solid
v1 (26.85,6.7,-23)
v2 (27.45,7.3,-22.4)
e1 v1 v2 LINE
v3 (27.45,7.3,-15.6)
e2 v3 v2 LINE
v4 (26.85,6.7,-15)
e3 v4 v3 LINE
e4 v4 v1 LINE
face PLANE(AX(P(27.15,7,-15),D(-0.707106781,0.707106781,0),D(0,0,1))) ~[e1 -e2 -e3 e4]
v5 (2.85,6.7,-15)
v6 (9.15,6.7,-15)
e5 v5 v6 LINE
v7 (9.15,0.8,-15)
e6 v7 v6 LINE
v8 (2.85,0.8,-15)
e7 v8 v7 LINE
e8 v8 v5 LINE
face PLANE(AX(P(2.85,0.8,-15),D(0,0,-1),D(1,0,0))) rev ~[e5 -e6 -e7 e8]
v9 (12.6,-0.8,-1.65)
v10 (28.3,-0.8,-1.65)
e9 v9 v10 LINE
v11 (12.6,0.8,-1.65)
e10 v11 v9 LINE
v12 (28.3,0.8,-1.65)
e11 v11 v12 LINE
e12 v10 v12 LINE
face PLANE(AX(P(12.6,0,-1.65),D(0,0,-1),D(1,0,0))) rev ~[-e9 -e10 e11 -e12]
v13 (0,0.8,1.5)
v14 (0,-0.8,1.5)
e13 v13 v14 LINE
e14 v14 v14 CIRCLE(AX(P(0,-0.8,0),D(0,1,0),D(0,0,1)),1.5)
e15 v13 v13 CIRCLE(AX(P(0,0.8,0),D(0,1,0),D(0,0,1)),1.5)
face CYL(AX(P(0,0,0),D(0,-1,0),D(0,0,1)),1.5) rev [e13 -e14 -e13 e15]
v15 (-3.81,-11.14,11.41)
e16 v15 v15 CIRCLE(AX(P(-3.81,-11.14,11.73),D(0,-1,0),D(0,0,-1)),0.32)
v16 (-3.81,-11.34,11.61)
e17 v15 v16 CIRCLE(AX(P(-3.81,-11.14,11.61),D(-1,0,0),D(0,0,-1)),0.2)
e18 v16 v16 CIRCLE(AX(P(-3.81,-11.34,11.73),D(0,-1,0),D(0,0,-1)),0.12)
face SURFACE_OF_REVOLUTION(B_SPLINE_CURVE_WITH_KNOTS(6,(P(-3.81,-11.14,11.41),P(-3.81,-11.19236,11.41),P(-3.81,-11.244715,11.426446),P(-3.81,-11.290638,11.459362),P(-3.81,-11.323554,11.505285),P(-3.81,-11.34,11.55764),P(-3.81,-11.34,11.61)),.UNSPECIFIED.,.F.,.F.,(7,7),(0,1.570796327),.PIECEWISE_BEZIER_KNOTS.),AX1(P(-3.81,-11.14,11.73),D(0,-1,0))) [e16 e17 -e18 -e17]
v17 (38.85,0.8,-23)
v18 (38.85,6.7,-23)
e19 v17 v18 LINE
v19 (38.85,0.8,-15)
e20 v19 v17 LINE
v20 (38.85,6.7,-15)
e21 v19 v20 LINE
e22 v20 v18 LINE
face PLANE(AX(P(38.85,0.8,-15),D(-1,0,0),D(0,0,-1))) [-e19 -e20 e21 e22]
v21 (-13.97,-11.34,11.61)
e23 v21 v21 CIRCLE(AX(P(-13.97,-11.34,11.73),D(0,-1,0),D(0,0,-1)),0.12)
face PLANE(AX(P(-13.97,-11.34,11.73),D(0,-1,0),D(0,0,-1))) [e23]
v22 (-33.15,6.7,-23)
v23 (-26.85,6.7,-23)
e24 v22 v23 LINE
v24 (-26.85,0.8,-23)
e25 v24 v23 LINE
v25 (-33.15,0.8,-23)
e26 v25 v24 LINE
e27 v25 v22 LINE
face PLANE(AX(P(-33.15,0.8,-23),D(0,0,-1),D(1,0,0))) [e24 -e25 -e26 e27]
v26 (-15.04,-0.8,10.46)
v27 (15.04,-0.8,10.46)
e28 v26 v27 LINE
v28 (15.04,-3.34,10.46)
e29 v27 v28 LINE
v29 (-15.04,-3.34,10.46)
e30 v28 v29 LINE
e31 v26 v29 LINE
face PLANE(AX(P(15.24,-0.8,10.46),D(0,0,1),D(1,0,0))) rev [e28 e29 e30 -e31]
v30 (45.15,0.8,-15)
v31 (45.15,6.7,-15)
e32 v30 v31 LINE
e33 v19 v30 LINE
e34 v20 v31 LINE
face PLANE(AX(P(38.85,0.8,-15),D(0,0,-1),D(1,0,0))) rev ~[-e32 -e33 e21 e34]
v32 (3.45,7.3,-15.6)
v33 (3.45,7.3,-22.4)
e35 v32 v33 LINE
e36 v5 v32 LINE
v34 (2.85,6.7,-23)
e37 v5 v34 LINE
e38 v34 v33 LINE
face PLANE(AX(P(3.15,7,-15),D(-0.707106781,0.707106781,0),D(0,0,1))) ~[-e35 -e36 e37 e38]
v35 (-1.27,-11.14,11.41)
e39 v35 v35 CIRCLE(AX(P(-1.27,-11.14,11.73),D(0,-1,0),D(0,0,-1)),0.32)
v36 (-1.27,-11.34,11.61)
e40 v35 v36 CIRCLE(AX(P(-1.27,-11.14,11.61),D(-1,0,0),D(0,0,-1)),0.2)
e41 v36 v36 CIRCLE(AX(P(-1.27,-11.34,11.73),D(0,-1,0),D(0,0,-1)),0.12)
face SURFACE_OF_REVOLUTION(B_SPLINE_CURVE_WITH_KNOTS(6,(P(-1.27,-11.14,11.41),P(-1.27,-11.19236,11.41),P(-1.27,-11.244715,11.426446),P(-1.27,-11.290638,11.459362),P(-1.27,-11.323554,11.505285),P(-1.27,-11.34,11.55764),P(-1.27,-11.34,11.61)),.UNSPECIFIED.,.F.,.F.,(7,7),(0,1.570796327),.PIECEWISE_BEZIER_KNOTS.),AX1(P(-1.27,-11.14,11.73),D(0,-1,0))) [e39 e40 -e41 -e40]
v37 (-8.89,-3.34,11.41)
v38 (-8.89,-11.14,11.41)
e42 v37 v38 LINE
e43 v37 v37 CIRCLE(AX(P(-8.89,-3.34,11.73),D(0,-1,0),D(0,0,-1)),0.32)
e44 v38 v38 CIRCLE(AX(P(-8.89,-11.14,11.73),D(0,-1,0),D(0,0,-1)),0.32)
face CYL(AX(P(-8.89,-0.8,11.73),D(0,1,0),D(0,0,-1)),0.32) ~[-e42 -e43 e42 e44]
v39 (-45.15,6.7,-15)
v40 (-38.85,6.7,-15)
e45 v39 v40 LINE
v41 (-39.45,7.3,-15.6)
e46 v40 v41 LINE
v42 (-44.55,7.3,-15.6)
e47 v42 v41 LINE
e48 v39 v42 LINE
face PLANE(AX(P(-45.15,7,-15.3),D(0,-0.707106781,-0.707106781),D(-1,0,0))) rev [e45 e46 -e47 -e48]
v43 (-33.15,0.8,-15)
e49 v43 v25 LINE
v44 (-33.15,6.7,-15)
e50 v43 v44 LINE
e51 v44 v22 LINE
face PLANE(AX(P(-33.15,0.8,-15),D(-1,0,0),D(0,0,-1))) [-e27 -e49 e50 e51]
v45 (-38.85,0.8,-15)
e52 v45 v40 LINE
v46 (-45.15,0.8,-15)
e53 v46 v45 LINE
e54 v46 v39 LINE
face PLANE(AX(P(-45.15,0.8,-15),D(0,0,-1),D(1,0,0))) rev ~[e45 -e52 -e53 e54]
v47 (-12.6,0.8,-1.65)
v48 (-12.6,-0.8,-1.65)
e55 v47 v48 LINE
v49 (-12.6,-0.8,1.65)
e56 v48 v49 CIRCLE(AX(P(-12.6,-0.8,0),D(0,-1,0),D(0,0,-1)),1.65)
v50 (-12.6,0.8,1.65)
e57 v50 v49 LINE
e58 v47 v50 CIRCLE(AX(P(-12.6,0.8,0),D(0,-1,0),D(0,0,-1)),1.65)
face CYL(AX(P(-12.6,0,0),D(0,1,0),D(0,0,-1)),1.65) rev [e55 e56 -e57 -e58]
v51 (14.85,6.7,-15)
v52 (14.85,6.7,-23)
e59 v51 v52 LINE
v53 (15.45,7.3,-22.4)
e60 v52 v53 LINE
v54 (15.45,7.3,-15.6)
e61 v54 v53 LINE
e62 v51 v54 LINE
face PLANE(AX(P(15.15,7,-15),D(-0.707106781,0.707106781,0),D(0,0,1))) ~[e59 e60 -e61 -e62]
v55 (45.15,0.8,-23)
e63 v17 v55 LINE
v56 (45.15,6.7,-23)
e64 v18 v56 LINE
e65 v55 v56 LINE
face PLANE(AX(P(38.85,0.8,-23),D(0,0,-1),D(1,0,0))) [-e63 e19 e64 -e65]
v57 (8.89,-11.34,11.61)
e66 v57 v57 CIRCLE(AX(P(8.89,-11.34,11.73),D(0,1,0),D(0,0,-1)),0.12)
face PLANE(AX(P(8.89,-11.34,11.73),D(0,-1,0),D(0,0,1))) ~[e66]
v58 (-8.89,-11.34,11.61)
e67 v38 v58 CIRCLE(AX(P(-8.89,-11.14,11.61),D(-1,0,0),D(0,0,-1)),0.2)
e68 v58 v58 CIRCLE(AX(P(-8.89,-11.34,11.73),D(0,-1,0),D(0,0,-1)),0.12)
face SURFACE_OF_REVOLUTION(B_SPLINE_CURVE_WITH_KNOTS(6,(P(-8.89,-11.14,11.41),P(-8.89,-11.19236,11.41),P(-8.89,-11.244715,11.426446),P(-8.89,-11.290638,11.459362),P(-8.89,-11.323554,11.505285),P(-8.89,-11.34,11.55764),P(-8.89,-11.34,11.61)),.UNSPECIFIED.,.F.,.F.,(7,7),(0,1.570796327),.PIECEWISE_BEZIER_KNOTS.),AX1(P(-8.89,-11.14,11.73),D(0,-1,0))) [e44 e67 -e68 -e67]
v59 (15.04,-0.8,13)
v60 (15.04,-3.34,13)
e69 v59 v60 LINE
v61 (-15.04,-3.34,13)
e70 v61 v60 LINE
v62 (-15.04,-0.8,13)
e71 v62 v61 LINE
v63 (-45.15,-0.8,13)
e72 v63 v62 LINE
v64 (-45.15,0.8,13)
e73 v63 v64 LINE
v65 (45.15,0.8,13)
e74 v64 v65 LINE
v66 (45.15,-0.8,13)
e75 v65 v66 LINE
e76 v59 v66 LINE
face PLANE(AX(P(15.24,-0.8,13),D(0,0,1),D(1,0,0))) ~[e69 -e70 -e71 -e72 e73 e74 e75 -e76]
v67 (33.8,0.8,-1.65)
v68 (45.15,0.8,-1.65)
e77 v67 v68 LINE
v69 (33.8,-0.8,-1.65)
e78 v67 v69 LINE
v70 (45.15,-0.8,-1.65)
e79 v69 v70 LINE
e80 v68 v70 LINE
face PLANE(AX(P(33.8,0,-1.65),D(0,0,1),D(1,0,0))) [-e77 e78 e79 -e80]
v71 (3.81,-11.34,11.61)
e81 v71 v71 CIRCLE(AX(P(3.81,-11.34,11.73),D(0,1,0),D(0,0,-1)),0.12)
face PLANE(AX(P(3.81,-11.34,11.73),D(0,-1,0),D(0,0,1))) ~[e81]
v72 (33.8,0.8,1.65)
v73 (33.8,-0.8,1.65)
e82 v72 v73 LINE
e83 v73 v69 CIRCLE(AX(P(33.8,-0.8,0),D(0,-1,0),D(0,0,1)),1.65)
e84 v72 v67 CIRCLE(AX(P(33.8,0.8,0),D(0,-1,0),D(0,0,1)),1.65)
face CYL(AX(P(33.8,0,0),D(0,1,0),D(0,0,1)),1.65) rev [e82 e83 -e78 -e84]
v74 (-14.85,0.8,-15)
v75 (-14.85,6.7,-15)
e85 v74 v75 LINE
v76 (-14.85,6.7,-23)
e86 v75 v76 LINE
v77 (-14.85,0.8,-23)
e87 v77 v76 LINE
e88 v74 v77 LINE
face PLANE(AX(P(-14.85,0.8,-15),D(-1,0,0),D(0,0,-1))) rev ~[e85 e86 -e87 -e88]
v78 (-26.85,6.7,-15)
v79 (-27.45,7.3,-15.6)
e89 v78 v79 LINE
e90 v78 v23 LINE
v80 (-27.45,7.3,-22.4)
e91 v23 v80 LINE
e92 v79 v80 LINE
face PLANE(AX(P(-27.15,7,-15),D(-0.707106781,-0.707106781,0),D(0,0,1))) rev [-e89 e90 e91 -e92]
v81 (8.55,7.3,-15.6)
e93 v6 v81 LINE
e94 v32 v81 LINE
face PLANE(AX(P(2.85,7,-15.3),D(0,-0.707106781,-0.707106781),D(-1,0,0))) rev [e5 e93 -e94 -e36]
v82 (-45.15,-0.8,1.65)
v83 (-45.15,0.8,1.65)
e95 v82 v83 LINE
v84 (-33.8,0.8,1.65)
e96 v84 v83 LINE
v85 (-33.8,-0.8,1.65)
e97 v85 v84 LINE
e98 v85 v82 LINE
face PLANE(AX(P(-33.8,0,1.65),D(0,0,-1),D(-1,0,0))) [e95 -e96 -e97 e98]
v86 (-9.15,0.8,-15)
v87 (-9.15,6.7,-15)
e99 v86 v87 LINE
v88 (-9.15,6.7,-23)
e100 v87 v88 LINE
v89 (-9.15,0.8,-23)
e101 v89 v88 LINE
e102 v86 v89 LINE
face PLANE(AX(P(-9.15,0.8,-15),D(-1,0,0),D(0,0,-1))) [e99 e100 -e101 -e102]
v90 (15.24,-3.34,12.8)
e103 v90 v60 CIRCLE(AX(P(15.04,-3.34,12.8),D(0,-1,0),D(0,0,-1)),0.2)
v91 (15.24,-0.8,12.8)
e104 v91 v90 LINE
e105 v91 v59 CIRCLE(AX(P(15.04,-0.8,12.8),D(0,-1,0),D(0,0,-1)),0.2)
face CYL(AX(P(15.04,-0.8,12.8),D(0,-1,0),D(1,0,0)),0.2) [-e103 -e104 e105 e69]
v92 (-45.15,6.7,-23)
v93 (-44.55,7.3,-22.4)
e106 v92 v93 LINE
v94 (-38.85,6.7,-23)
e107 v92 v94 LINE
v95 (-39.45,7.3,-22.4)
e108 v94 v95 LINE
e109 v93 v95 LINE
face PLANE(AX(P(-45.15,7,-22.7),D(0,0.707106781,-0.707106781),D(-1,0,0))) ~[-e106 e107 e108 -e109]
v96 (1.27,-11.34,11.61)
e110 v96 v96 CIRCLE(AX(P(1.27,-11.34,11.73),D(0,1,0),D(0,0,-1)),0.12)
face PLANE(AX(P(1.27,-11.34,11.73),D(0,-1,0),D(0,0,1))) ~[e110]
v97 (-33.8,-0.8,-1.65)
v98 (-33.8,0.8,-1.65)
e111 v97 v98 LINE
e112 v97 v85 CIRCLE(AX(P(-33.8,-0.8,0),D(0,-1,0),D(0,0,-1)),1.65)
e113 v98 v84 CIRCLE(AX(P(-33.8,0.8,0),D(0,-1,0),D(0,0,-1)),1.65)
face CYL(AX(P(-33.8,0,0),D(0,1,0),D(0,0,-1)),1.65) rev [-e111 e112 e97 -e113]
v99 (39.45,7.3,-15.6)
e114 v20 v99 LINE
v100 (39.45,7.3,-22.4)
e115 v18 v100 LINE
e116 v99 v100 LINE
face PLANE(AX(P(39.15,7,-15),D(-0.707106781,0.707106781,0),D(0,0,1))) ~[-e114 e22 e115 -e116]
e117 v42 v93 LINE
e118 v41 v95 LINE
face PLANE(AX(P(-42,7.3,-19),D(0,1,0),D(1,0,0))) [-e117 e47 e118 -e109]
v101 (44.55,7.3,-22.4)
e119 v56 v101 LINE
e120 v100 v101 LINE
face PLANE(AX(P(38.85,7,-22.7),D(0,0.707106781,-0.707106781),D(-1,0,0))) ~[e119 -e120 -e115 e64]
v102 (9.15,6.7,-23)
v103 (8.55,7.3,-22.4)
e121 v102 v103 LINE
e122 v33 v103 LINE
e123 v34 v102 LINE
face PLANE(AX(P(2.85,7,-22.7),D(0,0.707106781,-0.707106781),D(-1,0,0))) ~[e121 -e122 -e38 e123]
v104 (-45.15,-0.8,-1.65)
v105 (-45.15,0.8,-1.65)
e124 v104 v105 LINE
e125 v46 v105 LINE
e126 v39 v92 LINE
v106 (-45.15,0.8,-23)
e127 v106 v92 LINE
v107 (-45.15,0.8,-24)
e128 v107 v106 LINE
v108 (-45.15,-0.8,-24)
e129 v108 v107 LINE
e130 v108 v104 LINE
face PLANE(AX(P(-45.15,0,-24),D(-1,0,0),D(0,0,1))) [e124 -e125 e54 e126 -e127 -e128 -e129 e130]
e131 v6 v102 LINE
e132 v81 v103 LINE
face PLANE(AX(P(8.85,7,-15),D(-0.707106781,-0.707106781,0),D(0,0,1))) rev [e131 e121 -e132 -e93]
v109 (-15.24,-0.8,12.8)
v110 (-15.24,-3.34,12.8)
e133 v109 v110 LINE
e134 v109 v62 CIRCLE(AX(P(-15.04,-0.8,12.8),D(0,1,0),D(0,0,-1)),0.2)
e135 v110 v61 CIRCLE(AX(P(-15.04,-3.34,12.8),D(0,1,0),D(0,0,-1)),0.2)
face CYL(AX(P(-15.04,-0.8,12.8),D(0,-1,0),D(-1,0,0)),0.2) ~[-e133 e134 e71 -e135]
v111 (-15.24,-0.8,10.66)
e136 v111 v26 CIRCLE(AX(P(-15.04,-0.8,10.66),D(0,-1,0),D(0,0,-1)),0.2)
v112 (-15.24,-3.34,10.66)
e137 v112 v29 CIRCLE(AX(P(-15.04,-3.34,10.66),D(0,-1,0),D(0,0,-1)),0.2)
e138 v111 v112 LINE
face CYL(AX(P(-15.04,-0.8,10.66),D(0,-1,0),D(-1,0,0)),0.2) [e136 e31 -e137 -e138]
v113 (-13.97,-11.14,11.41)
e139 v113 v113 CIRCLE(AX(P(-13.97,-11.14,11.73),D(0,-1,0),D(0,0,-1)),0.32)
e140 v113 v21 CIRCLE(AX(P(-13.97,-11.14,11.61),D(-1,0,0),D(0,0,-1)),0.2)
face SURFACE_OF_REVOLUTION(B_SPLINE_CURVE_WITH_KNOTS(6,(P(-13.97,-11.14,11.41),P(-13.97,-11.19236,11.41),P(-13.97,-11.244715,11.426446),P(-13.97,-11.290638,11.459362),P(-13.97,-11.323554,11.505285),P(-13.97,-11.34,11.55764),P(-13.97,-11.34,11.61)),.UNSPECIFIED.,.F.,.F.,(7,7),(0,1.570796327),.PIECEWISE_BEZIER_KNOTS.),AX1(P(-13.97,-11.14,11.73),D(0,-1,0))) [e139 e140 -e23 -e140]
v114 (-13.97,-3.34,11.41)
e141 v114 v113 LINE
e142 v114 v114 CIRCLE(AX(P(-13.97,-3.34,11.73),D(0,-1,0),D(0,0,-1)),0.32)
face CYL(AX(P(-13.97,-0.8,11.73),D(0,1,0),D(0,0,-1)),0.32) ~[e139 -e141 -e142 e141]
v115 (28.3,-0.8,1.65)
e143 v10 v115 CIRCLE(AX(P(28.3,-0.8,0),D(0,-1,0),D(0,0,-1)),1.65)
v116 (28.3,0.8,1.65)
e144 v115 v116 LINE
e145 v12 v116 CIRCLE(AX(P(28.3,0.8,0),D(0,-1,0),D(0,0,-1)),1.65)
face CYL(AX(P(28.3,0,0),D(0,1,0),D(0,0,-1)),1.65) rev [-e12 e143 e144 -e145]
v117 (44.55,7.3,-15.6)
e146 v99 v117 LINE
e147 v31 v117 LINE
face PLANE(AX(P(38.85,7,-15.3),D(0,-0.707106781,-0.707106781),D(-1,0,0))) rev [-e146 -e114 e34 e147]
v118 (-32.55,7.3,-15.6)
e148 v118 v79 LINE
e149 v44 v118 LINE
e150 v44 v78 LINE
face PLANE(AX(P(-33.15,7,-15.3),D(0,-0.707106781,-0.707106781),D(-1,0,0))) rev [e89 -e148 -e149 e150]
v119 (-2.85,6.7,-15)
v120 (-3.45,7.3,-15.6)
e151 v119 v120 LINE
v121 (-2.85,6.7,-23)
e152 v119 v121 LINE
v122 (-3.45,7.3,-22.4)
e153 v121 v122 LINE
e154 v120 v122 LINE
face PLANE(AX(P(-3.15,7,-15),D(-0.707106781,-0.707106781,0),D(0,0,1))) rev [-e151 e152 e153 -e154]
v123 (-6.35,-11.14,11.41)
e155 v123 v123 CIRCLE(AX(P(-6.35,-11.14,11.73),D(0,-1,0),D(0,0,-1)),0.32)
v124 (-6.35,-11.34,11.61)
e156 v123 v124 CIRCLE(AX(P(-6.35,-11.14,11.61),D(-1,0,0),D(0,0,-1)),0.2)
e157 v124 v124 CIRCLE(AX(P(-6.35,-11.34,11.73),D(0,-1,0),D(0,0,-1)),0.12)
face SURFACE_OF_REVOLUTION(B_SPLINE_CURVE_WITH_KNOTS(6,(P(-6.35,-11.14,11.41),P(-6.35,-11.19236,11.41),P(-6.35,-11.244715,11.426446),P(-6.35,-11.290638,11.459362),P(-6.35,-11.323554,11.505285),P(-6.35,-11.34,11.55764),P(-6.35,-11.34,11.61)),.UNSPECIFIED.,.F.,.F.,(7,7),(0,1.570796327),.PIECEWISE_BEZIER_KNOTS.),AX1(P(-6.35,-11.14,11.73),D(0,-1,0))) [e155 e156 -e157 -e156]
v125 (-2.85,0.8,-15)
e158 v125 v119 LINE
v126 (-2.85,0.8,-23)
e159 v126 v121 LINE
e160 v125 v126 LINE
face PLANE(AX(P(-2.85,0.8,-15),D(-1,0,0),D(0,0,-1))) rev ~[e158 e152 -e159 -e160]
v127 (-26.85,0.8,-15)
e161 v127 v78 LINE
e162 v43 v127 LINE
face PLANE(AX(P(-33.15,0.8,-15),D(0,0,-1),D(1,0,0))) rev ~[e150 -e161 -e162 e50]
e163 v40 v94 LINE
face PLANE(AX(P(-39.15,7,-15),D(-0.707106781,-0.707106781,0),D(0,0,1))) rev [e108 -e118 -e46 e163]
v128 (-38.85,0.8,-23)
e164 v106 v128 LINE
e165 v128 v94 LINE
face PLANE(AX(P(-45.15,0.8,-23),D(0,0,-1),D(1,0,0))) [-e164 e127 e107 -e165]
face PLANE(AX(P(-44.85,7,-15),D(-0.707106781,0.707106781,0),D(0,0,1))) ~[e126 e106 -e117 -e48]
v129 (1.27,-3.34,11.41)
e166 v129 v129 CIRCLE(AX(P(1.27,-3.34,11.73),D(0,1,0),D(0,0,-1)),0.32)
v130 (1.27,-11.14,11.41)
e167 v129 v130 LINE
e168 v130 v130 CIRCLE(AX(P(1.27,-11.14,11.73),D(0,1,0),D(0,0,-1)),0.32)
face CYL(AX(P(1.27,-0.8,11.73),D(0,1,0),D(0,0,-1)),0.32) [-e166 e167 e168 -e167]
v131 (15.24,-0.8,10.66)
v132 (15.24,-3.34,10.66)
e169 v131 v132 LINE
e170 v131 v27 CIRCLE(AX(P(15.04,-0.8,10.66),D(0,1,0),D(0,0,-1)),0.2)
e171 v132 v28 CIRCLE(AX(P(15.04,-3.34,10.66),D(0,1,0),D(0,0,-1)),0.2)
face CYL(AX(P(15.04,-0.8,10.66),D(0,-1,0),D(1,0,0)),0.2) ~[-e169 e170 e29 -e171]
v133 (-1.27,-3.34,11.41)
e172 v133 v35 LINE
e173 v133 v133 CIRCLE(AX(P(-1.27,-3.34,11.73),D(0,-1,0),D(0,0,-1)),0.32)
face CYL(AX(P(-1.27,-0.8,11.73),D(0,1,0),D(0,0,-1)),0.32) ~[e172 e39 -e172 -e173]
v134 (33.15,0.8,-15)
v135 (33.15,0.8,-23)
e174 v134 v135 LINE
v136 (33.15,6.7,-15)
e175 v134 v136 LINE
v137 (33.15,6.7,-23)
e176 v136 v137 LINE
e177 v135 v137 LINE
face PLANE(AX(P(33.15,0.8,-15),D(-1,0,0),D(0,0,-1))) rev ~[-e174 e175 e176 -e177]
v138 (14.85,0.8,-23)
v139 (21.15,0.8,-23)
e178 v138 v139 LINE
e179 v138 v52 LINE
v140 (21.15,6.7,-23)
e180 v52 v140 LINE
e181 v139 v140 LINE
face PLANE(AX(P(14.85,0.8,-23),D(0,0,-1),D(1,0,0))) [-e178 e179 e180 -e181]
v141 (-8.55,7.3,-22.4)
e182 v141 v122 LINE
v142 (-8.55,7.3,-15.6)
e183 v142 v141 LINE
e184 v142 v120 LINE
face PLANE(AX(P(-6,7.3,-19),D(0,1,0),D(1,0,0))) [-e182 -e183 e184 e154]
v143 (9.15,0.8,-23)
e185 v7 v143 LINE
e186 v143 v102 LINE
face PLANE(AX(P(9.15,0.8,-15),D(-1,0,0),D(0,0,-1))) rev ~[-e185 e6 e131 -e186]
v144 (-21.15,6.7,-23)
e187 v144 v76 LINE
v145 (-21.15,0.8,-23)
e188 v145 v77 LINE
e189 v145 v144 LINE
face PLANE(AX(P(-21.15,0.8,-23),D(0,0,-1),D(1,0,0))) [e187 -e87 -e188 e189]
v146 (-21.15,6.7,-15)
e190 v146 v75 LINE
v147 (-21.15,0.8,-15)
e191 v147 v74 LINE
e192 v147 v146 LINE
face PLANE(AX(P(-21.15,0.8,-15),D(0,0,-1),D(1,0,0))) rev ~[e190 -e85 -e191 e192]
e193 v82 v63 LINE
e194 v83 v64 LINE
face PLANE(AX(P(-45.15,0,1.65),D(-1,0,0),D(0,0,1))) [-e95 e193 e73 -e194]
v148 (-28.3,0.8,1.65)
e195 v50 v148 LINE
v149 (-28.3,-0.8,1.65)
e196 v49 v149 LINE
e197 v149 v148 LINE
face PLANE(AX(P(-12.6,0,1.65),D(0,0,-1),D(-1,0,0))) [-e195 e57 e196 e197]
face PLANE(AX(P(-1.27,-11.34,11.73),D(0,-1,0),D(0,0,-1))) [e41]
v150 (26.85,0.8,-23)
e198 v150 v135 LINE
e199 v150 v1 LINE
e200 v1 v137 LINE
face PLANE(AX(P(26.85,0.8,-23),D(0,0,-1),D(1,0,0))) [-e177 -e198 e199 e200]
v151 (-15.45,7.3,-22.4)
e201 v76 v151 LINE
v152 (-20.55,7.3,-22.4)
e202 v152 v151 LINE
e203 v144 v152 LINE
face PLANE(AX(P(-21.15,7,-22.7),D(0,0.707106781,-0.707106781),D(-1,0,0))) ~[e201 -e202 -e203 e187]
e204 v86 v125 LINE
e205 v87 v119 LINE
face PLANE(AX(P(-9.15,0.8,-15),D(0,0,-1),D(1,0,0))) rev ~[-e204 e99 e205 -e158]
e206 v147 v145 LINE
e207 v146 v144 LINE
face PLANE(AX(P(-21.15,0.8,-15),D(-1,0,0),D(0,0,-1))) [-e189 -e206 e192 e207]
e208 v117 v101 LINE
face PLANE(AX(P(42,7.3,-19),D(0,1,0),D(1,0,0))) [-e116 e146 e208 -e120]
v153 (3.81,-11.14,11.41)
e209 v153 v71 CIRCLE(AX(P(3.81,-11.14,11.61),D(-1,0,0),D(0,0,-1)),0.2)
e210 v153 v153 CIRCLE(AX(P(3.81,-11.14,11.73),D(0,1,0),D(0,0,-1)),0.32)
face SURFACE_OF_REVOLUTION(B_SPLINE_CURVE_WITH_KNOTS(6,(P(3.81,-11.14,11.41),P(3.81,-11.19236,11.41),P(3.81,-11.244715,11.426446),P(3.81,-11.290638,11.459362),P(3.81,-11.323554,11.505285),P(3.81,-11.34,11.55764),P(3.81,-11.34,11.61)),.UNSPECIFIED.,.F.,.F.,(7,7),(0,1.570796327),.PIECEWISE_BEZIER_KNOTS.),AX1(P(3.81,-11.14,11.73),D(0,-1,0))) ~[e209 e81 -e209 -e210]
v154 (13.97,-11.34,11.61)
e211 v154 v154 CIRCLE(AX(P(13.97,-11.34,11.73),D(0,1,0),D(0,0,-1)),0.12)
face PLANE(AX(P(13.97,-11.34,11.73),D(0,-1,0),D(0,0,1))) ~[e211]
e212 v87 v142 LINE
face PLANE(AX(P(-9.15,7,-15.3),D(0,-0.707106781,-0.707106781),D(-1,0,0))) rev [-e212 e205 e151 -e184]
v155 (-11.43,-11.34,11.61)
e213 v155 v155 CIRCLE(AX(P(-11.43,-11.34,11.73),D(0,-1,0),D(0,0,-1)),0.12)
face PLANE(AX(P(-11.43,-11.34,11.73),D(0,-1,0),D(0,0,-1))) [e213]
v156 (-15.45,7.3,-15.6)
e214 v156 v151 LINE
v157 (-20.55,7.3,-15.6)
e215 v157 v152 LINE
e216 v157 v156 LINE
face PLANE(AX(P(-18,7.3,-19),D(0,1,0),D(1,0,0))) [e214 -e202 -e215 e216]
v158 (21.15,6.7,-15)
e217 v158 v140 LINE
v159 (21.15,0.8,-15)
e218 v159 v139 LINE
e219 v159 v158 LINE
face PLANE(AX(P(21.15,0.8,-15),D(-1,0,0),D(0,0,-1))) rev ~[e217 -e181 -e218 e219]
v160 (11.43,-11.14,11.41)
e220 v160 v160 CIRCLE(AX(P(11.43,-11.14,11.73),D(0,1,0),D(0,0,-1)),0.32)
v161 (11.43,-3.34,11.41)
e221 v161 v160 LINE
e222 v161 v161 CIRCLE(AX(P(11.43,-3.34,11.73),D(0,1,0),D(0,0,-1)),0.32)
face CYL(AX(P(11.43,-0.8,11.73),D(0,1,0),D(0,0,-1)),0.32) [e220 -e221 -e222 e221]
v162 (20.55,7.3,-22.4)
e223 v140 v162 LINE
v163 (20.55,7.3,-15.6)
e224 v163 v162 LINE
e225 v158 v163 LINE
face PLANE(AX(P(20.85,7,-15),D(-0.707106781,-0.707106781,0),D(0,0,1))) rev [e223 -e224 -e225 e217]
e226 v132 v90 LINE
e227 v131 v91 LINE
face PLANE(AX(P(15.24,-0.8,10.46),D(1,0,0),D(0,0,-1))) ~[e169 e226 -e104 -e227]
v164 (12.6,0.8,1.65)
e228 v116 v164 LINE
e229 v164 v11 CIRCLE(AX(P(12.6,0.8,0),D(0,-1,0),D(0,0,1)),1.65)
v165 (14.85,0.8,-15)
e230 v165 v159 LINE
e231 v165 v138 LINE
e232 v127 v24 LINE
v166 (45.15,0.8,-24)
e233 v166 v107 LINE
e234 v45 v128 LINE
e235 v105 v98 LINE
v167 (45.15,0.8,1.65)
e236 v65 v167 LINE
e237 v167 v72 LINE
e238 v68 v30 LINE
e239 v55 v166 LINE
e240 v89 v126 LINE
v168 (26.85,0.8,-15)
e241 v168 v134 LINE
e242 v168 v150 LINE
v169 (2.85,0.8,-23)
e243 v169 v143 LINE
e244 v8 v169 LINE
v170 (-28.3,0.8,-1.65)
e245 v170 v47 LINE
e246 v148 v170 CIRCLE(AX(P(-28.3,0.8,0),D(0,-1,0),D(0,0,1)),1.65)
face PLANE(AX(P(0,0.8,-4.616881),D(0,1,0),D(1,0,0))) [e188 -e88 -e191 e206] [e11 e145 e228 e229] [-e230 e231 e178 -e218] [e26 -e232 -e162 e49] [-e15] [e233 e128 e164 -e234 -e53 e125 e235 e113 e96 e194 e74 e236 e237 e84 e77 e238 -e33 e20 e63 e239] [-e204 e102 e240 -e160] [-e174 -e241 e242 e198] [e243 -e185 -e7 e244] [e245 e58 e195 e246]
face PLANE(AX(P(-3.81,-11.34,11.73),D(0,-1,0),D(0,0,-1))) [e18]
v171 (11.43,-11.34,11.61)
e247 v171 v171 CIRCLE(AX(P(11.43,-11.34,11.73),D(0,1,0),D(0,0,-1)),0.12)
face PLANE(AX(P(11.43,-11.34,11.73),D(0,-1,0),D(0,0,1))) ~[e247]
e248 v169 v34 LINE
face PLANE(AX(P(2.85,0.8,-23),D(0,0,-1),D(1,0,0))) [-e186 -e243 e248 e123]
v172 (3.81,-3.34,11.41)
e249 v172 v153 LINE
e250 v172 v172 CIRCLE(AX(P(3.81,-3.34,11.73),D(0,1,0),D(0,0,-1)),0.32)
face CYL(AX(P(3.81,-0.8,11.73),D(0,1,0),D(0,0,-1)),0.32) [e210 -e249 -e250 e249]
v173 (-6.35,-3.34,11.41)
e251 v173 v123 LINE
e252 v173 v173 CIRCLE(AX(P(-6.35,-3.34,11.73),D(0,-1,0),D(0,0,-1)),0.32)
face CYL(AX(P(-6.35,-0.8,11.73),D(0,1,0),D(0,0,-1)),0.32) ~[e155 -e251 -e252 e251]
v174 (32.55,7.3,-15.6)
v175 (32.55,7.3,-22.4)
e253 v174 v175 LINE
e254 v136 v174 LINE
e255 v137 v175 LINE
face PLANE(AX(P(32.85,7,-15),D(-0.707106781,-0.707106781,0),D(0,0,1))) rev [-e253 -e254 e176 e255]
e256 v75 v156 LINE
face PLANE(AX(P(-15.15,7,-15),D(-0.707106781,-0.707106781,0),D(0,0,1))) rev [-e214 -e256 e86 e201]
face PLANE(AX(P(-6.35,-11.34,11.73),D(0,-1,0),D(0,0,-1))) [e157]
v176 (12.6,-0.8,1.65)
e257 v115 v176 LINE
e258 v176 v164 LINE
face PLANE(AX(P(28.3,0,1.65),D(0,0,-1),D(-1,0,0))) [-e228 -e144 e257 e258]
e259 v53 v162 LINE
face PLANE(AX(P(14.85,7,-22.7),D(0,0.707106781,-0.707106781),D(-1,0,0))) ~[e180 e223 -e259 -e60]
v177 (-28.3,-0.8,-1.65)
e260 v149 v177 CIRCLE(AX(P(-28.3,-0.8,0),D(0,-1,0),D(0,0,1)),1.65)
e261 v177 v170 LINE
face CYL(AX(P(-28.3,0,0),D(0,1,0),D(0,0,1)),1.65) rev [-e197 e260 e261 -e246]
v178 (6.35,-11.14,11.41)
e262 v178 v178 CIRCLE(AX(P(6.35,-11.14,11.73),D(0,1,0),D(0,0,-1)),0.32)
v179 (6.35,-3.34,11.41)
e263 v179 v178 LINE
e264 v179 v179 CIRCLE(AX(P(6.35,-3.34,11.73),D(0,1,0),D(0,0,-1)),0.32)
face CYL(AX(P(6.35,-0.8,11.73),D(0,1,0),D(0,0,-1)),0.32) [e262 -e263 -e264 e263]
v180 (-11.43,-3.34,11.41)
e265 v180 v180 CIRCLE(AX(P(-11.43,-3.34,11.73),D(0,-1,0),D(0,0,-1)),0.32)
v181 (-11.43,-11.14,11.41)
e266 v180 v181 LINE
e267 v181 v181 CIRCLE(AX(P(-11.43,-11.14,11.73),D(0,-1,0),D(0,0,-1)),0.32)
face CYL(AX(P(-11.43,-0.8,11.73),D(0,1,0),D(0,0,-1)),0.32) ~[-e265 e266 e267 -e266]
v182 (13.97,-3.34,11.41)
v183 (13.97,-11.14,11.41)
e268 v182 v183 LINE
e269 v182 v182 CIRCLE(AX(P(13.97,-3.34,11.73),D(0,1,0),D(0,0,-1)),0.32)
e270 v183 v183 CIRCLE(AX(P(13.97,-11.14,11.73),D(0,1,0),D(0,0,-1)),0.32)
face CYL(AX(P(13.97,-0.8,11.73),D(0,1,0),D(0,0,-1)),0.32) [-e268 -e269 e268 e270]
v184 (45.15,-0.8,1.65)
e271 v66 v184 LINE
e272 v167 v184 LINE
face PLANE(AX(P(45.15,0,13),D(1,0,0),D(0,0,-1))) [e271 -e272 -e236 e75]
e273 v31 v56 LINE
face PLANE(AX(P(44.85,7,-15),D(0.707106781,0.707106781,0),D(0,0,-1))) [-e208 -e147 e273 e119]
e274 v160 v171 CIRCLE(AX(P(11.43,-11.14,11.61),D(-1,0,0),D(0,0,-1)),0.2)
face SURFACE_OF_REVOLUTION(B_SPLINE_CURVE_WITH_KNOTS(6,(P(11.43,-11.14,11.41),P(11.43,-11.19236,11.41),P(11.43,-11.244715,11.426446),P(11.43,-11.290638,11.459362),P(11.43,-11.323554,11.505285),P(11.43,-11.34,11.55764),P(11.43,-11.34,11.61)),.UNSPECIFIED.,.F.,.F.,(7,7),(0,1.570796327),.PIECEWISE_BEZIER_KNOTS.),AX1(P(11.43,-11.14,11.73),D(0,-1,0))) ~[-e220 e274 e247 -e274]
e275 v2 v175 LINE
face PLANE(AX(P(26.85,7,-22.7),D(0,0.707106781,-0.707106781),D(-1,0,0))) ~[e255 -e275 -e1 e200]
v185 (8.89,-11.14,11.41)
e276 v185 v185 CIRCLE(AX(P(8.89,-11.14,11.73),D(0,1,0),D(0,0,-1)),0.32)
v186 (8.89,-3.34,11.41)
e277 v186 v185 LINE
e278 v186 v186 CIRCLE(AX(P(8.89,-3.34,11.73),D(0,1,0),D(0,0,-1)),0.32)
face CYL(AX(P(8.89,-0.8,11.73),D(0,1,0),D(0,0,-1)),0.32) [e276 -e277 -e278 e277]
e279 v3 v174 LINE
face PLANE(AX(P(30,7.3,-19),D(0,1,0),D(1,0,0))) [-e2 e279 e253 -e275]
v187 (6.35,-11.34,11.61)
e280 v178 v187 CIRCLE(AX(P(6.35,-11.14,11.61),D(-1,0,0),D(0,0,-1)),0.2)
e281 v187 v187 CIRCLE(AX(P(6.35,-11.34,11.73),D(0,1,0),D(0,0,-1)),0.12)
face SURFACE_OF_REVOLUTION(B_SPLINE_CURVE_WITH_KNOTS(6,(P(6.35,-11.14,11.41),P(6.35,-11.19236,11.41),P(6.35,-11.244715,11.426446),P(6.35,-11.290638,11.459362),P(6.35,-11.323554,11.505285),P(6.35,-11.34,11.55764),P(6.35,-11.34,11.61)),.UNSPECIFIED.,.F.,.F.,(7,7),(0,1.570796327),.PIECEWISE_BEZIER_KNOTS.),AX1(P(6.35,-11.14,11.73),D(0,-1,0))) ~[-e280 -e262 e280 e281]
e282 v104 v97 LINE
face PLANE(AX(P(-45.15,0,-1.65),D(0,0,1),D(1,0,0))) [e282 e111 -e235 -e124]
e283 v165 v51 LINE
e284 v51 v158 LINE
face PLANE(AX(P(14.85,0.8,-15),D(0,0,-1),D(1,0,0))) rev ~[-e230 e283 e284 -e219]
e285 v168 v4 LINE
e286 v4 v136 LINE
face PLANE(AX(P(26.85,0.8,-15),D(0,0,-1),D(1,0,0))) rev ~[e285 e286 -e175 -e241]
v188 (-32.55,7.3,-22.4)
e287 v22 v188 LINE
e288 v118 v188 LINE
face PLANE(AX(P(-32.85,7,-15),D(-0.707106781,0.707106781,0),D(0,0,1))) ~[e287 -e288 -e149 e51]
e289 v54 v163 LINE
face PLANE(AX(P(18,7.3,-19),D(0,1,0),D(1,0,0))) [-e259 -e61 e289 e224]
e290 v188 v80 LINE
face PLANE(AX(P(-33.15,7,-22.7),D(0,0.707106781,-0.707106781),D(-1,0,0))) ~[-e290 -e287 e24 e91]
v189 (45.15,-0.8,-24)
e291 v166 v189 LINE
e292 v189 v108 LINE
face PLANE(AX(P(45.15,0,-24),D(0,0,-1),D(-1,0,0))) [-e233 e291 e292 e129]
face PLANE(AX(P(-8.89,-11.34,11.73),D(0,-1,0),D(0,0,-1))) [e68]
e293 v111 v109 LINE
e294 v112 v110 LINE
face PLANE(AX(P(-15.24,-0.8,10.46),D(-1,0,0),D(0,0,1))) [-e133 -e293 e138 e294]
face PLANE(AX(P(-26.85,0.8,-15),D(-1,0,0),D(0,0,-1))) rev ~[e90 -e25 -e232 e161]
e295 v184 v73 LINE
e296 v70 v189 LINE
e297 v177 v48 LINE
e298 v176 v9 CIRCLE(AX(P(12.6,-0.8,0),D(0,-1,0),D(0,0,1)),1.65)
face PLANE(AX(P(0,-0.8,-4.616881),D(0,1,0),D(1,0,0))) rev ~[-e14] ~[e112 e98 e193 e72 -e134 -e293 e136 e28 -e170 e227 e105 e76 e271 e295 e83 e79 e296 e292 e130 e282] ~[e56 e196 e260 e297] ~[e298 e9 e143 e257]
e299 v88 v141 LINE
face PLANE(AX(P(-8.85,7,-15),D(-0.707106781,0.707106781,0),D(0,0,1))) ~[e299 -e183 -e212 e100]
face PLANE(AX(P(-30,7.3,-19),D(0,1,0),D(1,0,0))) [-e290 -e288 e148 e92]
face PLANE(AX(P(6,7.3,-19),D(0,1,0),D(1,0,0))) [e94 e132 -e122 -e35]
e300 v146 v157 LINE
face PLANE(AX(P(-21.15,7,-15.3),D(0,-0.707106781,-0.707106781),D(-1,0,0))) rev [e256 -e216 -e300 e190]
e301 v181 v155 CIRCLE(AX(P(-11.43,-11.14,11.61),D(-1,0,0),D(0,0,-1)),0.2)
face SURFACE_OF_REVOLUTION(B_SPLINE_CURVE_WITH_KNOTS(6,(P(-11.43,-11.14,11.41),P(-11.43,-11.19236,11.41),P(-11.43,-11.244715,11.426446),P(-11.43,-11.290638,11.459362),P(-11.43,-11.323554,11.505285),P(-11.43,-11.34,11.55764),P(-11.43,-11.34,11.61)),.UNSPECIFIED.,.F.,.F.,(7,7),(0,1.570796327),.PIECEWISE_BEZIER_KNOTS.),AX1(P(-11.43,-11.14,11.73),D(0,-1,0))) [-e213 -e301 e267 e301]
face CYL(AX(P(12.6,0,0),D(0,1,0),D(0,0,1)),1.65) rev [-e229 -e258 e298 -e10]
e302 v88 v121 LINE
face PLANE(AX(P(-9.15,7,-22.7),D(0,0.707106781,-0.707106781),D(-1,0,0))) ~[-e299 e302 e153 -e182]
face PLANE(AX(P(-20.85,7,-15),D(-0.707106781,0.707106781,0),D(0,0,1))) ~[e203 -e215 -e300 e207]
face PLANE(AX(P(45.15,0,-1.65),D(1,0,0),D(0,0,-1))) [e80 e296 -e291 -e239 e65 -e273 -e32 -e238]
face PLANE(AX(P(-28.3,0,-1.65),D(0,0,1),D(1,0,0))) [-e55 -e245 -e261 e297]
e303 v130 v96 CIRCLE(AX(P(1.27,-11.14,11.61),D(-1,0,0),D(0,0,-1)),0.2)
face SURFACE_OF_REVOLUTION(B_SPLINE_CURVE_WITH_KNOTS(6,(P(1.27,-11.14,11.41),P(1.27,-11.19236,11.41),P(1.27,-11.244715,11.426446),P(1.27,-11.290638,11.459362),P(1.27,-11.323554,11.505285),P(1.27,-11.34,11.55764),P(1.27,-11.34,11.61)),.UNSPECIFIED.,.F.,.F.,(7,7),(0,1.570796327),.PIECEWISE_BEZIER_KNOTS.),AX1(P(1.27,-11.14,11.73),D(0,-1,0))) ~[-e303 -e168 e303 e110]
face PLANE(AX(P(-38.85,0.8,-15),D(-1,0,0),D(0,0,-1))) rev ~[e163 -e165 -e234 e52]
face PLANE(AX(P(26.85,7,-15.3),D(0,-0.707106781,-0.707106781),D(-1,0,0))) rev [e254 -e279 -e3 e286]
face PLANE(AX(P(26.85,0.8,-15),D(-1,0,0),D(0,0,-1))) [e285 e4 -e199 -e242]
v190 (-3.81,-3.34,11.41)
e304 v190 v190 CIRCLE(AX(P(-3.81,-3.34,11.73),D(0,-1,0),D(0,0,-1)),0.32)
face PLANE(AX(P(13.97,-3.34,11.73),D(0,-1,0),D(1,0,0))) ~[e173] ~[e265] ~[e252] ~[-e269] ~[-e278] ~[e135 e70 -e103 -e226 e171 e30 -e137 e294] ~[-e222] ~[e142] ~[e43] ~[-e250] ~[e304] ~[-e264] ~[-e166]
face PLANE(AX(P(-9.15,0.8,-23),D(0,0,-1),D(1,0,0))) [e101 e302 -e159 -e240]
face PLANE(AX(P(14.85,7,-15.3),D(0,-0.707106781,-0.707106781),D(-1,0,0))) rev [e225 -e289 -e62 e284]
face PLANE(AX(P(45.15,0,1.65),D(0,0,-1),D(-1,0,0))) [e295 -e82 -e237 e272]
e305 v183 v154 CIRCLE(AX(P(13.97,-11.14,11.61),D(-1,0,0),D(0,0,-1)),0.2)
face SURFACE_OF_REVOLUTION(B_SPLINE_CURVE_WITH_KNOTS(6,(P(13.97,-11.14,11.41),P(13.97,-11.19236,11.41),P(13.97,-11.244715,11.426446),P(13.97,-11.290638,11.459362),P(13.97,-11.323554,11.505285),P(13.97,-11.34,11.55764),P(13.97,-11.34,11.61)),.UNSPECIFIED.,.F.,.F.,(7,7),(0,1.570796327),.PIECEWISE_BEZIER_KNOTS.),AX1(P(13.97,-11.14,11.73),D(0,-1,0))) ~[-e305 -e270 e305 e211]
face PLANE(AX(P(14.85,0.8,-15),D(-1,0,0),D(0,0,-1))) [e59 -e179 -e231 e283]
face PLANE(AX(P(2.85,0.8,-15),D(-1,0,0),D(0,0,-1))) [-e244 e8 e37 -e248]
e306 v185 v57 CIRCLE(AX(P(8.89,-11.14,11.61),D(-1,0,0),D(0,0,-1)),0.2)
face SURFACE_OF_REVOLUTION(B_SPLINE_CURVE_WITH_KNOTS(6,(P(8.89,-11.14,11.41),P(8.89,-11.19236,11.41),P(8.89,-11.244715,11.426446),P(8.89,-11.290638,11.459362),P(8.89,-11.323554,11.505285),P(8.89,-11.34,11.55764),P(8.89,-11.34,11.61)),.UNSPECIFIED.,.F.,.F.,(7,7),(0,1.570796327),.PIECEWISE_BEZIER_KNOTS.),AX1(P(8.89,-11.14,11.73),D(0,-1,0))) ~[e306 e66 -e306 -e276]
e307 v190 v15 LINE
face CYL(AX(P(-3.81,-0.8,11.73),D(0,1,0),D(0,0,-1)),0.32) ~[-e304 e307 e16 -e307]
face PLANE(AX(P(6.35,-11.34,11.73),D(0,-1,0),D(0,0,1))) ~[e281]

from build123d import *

# Parameters (mm, degrees)
SKETCH_1_R             = 1.5
EXTRUDE_1_DEPTH        = 0.8
SKETCH_2_W             = 6.3
SKETCH_2_H             = 8
EXTRUDE_2_DEPTH        = 6.5
CHAMFER_1_SIZE         = 0.6
SKETCH_3_W             = 15.24
SKETCH_3_H             = 2.54
SKETCH_3_R             = 0.32
EXTRUDE_3_DEPTH        = 2.54
SKETCH_3_3_R           = 0.32
EXTRUDE_4_DEPTH        = 10.54
FILLET_1_R             = 0.2
FILLET_1_OF_MIRROR_1_R = 0.2


with BuildPart() as part:
    # 草图1 → 凸台-拉伸1 (new, symmetric)
    with BuildSketch(Plane(origin=(0, 0, 0), x_dir=(1, 0, 0), z_dir=(0, 1, 0))):
        with BuildLine():
            Line((45.15, 24), (-45.15, 24))
            Line((-45.15, 24), (-45.15, 1.65))
            Line((-45.15, 1.65), (-33.8, 1.65))
            ThreePointArc((-33.8, 1.65), (-32.15, 0), (-33.8, -1.65))
            Line((-33.8, -1.65), (-45.15, -1.65))
            Line((-45.15, -1.65), (-45.15, -13))
            Line((-45.15, -13), (45.15, -13))
            Line((45.15, -13), (45.15, -1.65))
            Line((45.15, -1.65), (33.8, -1.65))
            ThreePointArc((33.8, -1.65), (32.15, 0), (33.8, 1.65))
            Line((33.8, 1.65), (45.15, 1.65))
            Line((45.15, 1.65), (45.15, 24))
        make_face()
        with BuildLine():
            ThreePointArc((-28.3, -1.65), (-29.95, 0), (-28.3, 1.65))
            Line((-28.3, 1.65), (-12.6, 1.65))
            ThreePointArc((-12.6, 1.65), (-10.95, 0), (-12.6, -1.65))
            Line((-12.6, -1.65), (-28.3, -1.65))
        make_face(mode=Mode.SUBTRACT)
        Circle(SKETCH_1_R, mode=Mode.SUBTRACT)
        with BuildLine():
            Line((12.6, 1.65), (28.3, 1.65))
            ThreePointArc((28.3, 1.65), (29.95, 0), (28.3, -1.65))
            Line((28.3, -1.65), (12.6, -1.65))
            ThreePointArc((12.6, -1.65), (10.95, 0), (12.6, 1.65))
        make_face(mode=Mode.SUBTRACT)
    extrude(amount=EXTRUDE_1_DEPTH, both=True)

    # 草图2 → 凸台-拉伸2 (add)
    with BuildSketch(Plane(origin=(0, 0.8, 0), x_dir=(1, 0, 0), z_dir=(0, 1, 0))):
        with Locations((-42, 19)):
            Rectangle(SKETCH_2_W, SKETCH_2_H)
        with Locations((-30, 19)):
            Rectangle(SKETCH_2_W, SKETCH_2_H)
        with Locations((-18, 19)):
            Rectangle(SKETCH_2_W, SKETCH_2_H)
        with Locations((-6, 19)):
            Rectangle(SKETCH_2_W, SKETCH_2_H)
        with Locations((6, 19)):
            Rectangle(SKETCH_2_W, SKETCH_2_H)
        with Locations((18, 19)):
            Rectangle(SKETCH_2_W, SKETCH_2_H)
        with Locations((30, 19)):
            Rectangle(SKETCH_2_W, SKETCH_2_H)
        with Locations((42, 19)):
            Rectangle(SKETCH_2_W, SKETCH_2_H)
    extrude(amount=EXTRUDE_2_DEPTH)

    # 倒角1
    chamfer_1_edges = [part.edges().sort_by_distance(p)[0] for p in [
        (42, 7.3, -23),
        (45.15, 7.3, -19),
        (42, 7.3, -15),
        (38.85, 7.3, -19),
        (30, 7.3, -23),
        (33.15, 7.3, -19),
        (30, 7.3, -15),
        (26.85, 7.3, -19),
        (18, 7.3, -23),
        (21.15, 7.3, -19),
        (18, 7.3, -15),
        (14.85, 7.3, -19),
        (6, 7.3, -23),
        (9.15, 7.3, -19),
        (6, 7.3, -15),
        (2.85, 7.3, -19),
        (-6, 7.3, -23),
        (-2.85, 7.3, -19),
        (-6, 7.3, -15),
        (-9.15, 7.3, -19),
        (-18, 7.3, -23),
        (-14.85, 7.3, -19),
        (-18, 7.3, -15),
        (-21.15, 7.3, -19),
        (-30, 7.3, -23),
        (-26.85, 7.3, -19),
        (-30, 7.3, -15),
        (-33.15, 7.3, -19),
        (-42, 7.3, -23),
        (-38.85, 7.3, -19),
        (-42, 7.3, -15),
        (-45.15, 7.3, -19),
    ]]
    chamfer(chamfer_1_edges, length=CHAMFER_1_SIZE)

    # 草图3 → 凸台-拉伸3 (add)
    with BuildSketch(Plane.XZ.offset(0.8)):
        with Locations((-7.62, 11.73)):
            Rectangle(SKETCH_3_W, SKETCH_3_H)
        with Locations((-3.81, 11.73)):
            Circle(SKETCH_3_R, mode=Mode.SUBTRACT)
        with Locations((-1.27, 11.73)):
            Circle(SKETCH_3_R, mode=Mode.SUBTRACT)
        with Locations((-6.35, 11.73)):
            Circle(SKETCH_3_R, mode=Mode.SUBTRACT)
        with Locations((-8.89, 11.73)):
            Circle(SKETCH_3_R, mode=Mode.SUBTRACT)
        with Locations((-11.43, 11.73)):
            Circle(SKETCH_3_R, mode=Mode.SUBTRACT)
        with Locations((-13.97, 11.73)):
            Circle(SKETCH_3_R, mode=Mode.SUBTRACT)
    extrude_3 = extrude(amount=EXTRUDE_3_DEPTH)

    # 草图3<3> → 凸台-拉伸4 (add)
    with BuildSketch(Plane.XZ.offset(0.8)):
        with Locations((-1.27, 11.73)):
            Circle(SKETCH_3_3_R)
        with Locations((-3.81, 11.73)):
            Circle(SKETCH_3_3_R)
        with Locations((-6.35, 11.73)):
            Circle(SKETCH_3_3_R)
        with Locations((-8.89, 11.73)):
            Circle(SKETCH_3_3_R)
        with Locations((-11.43, 11.73)):
            Circle(SKETCH_3_3_R)
        with Locations((-13.97, 11.73)):
            Circle(SKETCH_3_3_R)
    extrude_4 = extrude(amount=EXTRUDE_4_DEPTH)

    # 圆角1
    fillet_1_edges = [part.edges().sort_by_distance(p)[0] for p in [
        (-1.59, -11.34, 11.73),
        (-4.13, -11.34, 11.73),
        (-6.67, -11.34, 11.73),
        (-9.21, -11.34, 11.73),
        (-11.75, -11.34, 11.73),
        (-14.29, -11.34, 11.73),
        (-15.24, -2.07, 13),
        (-15.24, -2.07, 10.46),
    ]]
    fillet(fillet_1_edges, radius=FILLET_1_R)

    # 镜向1: 凸台-拉伸3, 凸台-拉伸4 across plane
    add(extrude_3.mirror(Plane(origin=(0, 0, 0), x_dir=(0, 0, 1), z_dir=(1, 0, 0))))
    add(extrude_4.mirror(Plane(origin=(0, 0, 0), x_dir=(0, 0, 1), z_dir=(1, 0, 0))))

    # 圆角1 of 镜向1
    fillet_1_of_mirror_1_edges = [part.edges().sort_by_distance(p)[0] for p in [
        (1.59, -11.34, 11.73),
        (4.13, -11.34, 11.73),
        (6.67, -11.34, 11.73),
        (9.21, -11.34, 11.73),
        (11.75, -11.34, 11.73),
        (14.29, -11.34, 11.73),
        (15.24, -2.07, 13),
        (15.24, -2.07, 10.46),
    ]]
    fillet(fillet_1_of_mirror_1_edges, radius=FILLET_1_OF_MIRROR_1_R)


solid = part.part
